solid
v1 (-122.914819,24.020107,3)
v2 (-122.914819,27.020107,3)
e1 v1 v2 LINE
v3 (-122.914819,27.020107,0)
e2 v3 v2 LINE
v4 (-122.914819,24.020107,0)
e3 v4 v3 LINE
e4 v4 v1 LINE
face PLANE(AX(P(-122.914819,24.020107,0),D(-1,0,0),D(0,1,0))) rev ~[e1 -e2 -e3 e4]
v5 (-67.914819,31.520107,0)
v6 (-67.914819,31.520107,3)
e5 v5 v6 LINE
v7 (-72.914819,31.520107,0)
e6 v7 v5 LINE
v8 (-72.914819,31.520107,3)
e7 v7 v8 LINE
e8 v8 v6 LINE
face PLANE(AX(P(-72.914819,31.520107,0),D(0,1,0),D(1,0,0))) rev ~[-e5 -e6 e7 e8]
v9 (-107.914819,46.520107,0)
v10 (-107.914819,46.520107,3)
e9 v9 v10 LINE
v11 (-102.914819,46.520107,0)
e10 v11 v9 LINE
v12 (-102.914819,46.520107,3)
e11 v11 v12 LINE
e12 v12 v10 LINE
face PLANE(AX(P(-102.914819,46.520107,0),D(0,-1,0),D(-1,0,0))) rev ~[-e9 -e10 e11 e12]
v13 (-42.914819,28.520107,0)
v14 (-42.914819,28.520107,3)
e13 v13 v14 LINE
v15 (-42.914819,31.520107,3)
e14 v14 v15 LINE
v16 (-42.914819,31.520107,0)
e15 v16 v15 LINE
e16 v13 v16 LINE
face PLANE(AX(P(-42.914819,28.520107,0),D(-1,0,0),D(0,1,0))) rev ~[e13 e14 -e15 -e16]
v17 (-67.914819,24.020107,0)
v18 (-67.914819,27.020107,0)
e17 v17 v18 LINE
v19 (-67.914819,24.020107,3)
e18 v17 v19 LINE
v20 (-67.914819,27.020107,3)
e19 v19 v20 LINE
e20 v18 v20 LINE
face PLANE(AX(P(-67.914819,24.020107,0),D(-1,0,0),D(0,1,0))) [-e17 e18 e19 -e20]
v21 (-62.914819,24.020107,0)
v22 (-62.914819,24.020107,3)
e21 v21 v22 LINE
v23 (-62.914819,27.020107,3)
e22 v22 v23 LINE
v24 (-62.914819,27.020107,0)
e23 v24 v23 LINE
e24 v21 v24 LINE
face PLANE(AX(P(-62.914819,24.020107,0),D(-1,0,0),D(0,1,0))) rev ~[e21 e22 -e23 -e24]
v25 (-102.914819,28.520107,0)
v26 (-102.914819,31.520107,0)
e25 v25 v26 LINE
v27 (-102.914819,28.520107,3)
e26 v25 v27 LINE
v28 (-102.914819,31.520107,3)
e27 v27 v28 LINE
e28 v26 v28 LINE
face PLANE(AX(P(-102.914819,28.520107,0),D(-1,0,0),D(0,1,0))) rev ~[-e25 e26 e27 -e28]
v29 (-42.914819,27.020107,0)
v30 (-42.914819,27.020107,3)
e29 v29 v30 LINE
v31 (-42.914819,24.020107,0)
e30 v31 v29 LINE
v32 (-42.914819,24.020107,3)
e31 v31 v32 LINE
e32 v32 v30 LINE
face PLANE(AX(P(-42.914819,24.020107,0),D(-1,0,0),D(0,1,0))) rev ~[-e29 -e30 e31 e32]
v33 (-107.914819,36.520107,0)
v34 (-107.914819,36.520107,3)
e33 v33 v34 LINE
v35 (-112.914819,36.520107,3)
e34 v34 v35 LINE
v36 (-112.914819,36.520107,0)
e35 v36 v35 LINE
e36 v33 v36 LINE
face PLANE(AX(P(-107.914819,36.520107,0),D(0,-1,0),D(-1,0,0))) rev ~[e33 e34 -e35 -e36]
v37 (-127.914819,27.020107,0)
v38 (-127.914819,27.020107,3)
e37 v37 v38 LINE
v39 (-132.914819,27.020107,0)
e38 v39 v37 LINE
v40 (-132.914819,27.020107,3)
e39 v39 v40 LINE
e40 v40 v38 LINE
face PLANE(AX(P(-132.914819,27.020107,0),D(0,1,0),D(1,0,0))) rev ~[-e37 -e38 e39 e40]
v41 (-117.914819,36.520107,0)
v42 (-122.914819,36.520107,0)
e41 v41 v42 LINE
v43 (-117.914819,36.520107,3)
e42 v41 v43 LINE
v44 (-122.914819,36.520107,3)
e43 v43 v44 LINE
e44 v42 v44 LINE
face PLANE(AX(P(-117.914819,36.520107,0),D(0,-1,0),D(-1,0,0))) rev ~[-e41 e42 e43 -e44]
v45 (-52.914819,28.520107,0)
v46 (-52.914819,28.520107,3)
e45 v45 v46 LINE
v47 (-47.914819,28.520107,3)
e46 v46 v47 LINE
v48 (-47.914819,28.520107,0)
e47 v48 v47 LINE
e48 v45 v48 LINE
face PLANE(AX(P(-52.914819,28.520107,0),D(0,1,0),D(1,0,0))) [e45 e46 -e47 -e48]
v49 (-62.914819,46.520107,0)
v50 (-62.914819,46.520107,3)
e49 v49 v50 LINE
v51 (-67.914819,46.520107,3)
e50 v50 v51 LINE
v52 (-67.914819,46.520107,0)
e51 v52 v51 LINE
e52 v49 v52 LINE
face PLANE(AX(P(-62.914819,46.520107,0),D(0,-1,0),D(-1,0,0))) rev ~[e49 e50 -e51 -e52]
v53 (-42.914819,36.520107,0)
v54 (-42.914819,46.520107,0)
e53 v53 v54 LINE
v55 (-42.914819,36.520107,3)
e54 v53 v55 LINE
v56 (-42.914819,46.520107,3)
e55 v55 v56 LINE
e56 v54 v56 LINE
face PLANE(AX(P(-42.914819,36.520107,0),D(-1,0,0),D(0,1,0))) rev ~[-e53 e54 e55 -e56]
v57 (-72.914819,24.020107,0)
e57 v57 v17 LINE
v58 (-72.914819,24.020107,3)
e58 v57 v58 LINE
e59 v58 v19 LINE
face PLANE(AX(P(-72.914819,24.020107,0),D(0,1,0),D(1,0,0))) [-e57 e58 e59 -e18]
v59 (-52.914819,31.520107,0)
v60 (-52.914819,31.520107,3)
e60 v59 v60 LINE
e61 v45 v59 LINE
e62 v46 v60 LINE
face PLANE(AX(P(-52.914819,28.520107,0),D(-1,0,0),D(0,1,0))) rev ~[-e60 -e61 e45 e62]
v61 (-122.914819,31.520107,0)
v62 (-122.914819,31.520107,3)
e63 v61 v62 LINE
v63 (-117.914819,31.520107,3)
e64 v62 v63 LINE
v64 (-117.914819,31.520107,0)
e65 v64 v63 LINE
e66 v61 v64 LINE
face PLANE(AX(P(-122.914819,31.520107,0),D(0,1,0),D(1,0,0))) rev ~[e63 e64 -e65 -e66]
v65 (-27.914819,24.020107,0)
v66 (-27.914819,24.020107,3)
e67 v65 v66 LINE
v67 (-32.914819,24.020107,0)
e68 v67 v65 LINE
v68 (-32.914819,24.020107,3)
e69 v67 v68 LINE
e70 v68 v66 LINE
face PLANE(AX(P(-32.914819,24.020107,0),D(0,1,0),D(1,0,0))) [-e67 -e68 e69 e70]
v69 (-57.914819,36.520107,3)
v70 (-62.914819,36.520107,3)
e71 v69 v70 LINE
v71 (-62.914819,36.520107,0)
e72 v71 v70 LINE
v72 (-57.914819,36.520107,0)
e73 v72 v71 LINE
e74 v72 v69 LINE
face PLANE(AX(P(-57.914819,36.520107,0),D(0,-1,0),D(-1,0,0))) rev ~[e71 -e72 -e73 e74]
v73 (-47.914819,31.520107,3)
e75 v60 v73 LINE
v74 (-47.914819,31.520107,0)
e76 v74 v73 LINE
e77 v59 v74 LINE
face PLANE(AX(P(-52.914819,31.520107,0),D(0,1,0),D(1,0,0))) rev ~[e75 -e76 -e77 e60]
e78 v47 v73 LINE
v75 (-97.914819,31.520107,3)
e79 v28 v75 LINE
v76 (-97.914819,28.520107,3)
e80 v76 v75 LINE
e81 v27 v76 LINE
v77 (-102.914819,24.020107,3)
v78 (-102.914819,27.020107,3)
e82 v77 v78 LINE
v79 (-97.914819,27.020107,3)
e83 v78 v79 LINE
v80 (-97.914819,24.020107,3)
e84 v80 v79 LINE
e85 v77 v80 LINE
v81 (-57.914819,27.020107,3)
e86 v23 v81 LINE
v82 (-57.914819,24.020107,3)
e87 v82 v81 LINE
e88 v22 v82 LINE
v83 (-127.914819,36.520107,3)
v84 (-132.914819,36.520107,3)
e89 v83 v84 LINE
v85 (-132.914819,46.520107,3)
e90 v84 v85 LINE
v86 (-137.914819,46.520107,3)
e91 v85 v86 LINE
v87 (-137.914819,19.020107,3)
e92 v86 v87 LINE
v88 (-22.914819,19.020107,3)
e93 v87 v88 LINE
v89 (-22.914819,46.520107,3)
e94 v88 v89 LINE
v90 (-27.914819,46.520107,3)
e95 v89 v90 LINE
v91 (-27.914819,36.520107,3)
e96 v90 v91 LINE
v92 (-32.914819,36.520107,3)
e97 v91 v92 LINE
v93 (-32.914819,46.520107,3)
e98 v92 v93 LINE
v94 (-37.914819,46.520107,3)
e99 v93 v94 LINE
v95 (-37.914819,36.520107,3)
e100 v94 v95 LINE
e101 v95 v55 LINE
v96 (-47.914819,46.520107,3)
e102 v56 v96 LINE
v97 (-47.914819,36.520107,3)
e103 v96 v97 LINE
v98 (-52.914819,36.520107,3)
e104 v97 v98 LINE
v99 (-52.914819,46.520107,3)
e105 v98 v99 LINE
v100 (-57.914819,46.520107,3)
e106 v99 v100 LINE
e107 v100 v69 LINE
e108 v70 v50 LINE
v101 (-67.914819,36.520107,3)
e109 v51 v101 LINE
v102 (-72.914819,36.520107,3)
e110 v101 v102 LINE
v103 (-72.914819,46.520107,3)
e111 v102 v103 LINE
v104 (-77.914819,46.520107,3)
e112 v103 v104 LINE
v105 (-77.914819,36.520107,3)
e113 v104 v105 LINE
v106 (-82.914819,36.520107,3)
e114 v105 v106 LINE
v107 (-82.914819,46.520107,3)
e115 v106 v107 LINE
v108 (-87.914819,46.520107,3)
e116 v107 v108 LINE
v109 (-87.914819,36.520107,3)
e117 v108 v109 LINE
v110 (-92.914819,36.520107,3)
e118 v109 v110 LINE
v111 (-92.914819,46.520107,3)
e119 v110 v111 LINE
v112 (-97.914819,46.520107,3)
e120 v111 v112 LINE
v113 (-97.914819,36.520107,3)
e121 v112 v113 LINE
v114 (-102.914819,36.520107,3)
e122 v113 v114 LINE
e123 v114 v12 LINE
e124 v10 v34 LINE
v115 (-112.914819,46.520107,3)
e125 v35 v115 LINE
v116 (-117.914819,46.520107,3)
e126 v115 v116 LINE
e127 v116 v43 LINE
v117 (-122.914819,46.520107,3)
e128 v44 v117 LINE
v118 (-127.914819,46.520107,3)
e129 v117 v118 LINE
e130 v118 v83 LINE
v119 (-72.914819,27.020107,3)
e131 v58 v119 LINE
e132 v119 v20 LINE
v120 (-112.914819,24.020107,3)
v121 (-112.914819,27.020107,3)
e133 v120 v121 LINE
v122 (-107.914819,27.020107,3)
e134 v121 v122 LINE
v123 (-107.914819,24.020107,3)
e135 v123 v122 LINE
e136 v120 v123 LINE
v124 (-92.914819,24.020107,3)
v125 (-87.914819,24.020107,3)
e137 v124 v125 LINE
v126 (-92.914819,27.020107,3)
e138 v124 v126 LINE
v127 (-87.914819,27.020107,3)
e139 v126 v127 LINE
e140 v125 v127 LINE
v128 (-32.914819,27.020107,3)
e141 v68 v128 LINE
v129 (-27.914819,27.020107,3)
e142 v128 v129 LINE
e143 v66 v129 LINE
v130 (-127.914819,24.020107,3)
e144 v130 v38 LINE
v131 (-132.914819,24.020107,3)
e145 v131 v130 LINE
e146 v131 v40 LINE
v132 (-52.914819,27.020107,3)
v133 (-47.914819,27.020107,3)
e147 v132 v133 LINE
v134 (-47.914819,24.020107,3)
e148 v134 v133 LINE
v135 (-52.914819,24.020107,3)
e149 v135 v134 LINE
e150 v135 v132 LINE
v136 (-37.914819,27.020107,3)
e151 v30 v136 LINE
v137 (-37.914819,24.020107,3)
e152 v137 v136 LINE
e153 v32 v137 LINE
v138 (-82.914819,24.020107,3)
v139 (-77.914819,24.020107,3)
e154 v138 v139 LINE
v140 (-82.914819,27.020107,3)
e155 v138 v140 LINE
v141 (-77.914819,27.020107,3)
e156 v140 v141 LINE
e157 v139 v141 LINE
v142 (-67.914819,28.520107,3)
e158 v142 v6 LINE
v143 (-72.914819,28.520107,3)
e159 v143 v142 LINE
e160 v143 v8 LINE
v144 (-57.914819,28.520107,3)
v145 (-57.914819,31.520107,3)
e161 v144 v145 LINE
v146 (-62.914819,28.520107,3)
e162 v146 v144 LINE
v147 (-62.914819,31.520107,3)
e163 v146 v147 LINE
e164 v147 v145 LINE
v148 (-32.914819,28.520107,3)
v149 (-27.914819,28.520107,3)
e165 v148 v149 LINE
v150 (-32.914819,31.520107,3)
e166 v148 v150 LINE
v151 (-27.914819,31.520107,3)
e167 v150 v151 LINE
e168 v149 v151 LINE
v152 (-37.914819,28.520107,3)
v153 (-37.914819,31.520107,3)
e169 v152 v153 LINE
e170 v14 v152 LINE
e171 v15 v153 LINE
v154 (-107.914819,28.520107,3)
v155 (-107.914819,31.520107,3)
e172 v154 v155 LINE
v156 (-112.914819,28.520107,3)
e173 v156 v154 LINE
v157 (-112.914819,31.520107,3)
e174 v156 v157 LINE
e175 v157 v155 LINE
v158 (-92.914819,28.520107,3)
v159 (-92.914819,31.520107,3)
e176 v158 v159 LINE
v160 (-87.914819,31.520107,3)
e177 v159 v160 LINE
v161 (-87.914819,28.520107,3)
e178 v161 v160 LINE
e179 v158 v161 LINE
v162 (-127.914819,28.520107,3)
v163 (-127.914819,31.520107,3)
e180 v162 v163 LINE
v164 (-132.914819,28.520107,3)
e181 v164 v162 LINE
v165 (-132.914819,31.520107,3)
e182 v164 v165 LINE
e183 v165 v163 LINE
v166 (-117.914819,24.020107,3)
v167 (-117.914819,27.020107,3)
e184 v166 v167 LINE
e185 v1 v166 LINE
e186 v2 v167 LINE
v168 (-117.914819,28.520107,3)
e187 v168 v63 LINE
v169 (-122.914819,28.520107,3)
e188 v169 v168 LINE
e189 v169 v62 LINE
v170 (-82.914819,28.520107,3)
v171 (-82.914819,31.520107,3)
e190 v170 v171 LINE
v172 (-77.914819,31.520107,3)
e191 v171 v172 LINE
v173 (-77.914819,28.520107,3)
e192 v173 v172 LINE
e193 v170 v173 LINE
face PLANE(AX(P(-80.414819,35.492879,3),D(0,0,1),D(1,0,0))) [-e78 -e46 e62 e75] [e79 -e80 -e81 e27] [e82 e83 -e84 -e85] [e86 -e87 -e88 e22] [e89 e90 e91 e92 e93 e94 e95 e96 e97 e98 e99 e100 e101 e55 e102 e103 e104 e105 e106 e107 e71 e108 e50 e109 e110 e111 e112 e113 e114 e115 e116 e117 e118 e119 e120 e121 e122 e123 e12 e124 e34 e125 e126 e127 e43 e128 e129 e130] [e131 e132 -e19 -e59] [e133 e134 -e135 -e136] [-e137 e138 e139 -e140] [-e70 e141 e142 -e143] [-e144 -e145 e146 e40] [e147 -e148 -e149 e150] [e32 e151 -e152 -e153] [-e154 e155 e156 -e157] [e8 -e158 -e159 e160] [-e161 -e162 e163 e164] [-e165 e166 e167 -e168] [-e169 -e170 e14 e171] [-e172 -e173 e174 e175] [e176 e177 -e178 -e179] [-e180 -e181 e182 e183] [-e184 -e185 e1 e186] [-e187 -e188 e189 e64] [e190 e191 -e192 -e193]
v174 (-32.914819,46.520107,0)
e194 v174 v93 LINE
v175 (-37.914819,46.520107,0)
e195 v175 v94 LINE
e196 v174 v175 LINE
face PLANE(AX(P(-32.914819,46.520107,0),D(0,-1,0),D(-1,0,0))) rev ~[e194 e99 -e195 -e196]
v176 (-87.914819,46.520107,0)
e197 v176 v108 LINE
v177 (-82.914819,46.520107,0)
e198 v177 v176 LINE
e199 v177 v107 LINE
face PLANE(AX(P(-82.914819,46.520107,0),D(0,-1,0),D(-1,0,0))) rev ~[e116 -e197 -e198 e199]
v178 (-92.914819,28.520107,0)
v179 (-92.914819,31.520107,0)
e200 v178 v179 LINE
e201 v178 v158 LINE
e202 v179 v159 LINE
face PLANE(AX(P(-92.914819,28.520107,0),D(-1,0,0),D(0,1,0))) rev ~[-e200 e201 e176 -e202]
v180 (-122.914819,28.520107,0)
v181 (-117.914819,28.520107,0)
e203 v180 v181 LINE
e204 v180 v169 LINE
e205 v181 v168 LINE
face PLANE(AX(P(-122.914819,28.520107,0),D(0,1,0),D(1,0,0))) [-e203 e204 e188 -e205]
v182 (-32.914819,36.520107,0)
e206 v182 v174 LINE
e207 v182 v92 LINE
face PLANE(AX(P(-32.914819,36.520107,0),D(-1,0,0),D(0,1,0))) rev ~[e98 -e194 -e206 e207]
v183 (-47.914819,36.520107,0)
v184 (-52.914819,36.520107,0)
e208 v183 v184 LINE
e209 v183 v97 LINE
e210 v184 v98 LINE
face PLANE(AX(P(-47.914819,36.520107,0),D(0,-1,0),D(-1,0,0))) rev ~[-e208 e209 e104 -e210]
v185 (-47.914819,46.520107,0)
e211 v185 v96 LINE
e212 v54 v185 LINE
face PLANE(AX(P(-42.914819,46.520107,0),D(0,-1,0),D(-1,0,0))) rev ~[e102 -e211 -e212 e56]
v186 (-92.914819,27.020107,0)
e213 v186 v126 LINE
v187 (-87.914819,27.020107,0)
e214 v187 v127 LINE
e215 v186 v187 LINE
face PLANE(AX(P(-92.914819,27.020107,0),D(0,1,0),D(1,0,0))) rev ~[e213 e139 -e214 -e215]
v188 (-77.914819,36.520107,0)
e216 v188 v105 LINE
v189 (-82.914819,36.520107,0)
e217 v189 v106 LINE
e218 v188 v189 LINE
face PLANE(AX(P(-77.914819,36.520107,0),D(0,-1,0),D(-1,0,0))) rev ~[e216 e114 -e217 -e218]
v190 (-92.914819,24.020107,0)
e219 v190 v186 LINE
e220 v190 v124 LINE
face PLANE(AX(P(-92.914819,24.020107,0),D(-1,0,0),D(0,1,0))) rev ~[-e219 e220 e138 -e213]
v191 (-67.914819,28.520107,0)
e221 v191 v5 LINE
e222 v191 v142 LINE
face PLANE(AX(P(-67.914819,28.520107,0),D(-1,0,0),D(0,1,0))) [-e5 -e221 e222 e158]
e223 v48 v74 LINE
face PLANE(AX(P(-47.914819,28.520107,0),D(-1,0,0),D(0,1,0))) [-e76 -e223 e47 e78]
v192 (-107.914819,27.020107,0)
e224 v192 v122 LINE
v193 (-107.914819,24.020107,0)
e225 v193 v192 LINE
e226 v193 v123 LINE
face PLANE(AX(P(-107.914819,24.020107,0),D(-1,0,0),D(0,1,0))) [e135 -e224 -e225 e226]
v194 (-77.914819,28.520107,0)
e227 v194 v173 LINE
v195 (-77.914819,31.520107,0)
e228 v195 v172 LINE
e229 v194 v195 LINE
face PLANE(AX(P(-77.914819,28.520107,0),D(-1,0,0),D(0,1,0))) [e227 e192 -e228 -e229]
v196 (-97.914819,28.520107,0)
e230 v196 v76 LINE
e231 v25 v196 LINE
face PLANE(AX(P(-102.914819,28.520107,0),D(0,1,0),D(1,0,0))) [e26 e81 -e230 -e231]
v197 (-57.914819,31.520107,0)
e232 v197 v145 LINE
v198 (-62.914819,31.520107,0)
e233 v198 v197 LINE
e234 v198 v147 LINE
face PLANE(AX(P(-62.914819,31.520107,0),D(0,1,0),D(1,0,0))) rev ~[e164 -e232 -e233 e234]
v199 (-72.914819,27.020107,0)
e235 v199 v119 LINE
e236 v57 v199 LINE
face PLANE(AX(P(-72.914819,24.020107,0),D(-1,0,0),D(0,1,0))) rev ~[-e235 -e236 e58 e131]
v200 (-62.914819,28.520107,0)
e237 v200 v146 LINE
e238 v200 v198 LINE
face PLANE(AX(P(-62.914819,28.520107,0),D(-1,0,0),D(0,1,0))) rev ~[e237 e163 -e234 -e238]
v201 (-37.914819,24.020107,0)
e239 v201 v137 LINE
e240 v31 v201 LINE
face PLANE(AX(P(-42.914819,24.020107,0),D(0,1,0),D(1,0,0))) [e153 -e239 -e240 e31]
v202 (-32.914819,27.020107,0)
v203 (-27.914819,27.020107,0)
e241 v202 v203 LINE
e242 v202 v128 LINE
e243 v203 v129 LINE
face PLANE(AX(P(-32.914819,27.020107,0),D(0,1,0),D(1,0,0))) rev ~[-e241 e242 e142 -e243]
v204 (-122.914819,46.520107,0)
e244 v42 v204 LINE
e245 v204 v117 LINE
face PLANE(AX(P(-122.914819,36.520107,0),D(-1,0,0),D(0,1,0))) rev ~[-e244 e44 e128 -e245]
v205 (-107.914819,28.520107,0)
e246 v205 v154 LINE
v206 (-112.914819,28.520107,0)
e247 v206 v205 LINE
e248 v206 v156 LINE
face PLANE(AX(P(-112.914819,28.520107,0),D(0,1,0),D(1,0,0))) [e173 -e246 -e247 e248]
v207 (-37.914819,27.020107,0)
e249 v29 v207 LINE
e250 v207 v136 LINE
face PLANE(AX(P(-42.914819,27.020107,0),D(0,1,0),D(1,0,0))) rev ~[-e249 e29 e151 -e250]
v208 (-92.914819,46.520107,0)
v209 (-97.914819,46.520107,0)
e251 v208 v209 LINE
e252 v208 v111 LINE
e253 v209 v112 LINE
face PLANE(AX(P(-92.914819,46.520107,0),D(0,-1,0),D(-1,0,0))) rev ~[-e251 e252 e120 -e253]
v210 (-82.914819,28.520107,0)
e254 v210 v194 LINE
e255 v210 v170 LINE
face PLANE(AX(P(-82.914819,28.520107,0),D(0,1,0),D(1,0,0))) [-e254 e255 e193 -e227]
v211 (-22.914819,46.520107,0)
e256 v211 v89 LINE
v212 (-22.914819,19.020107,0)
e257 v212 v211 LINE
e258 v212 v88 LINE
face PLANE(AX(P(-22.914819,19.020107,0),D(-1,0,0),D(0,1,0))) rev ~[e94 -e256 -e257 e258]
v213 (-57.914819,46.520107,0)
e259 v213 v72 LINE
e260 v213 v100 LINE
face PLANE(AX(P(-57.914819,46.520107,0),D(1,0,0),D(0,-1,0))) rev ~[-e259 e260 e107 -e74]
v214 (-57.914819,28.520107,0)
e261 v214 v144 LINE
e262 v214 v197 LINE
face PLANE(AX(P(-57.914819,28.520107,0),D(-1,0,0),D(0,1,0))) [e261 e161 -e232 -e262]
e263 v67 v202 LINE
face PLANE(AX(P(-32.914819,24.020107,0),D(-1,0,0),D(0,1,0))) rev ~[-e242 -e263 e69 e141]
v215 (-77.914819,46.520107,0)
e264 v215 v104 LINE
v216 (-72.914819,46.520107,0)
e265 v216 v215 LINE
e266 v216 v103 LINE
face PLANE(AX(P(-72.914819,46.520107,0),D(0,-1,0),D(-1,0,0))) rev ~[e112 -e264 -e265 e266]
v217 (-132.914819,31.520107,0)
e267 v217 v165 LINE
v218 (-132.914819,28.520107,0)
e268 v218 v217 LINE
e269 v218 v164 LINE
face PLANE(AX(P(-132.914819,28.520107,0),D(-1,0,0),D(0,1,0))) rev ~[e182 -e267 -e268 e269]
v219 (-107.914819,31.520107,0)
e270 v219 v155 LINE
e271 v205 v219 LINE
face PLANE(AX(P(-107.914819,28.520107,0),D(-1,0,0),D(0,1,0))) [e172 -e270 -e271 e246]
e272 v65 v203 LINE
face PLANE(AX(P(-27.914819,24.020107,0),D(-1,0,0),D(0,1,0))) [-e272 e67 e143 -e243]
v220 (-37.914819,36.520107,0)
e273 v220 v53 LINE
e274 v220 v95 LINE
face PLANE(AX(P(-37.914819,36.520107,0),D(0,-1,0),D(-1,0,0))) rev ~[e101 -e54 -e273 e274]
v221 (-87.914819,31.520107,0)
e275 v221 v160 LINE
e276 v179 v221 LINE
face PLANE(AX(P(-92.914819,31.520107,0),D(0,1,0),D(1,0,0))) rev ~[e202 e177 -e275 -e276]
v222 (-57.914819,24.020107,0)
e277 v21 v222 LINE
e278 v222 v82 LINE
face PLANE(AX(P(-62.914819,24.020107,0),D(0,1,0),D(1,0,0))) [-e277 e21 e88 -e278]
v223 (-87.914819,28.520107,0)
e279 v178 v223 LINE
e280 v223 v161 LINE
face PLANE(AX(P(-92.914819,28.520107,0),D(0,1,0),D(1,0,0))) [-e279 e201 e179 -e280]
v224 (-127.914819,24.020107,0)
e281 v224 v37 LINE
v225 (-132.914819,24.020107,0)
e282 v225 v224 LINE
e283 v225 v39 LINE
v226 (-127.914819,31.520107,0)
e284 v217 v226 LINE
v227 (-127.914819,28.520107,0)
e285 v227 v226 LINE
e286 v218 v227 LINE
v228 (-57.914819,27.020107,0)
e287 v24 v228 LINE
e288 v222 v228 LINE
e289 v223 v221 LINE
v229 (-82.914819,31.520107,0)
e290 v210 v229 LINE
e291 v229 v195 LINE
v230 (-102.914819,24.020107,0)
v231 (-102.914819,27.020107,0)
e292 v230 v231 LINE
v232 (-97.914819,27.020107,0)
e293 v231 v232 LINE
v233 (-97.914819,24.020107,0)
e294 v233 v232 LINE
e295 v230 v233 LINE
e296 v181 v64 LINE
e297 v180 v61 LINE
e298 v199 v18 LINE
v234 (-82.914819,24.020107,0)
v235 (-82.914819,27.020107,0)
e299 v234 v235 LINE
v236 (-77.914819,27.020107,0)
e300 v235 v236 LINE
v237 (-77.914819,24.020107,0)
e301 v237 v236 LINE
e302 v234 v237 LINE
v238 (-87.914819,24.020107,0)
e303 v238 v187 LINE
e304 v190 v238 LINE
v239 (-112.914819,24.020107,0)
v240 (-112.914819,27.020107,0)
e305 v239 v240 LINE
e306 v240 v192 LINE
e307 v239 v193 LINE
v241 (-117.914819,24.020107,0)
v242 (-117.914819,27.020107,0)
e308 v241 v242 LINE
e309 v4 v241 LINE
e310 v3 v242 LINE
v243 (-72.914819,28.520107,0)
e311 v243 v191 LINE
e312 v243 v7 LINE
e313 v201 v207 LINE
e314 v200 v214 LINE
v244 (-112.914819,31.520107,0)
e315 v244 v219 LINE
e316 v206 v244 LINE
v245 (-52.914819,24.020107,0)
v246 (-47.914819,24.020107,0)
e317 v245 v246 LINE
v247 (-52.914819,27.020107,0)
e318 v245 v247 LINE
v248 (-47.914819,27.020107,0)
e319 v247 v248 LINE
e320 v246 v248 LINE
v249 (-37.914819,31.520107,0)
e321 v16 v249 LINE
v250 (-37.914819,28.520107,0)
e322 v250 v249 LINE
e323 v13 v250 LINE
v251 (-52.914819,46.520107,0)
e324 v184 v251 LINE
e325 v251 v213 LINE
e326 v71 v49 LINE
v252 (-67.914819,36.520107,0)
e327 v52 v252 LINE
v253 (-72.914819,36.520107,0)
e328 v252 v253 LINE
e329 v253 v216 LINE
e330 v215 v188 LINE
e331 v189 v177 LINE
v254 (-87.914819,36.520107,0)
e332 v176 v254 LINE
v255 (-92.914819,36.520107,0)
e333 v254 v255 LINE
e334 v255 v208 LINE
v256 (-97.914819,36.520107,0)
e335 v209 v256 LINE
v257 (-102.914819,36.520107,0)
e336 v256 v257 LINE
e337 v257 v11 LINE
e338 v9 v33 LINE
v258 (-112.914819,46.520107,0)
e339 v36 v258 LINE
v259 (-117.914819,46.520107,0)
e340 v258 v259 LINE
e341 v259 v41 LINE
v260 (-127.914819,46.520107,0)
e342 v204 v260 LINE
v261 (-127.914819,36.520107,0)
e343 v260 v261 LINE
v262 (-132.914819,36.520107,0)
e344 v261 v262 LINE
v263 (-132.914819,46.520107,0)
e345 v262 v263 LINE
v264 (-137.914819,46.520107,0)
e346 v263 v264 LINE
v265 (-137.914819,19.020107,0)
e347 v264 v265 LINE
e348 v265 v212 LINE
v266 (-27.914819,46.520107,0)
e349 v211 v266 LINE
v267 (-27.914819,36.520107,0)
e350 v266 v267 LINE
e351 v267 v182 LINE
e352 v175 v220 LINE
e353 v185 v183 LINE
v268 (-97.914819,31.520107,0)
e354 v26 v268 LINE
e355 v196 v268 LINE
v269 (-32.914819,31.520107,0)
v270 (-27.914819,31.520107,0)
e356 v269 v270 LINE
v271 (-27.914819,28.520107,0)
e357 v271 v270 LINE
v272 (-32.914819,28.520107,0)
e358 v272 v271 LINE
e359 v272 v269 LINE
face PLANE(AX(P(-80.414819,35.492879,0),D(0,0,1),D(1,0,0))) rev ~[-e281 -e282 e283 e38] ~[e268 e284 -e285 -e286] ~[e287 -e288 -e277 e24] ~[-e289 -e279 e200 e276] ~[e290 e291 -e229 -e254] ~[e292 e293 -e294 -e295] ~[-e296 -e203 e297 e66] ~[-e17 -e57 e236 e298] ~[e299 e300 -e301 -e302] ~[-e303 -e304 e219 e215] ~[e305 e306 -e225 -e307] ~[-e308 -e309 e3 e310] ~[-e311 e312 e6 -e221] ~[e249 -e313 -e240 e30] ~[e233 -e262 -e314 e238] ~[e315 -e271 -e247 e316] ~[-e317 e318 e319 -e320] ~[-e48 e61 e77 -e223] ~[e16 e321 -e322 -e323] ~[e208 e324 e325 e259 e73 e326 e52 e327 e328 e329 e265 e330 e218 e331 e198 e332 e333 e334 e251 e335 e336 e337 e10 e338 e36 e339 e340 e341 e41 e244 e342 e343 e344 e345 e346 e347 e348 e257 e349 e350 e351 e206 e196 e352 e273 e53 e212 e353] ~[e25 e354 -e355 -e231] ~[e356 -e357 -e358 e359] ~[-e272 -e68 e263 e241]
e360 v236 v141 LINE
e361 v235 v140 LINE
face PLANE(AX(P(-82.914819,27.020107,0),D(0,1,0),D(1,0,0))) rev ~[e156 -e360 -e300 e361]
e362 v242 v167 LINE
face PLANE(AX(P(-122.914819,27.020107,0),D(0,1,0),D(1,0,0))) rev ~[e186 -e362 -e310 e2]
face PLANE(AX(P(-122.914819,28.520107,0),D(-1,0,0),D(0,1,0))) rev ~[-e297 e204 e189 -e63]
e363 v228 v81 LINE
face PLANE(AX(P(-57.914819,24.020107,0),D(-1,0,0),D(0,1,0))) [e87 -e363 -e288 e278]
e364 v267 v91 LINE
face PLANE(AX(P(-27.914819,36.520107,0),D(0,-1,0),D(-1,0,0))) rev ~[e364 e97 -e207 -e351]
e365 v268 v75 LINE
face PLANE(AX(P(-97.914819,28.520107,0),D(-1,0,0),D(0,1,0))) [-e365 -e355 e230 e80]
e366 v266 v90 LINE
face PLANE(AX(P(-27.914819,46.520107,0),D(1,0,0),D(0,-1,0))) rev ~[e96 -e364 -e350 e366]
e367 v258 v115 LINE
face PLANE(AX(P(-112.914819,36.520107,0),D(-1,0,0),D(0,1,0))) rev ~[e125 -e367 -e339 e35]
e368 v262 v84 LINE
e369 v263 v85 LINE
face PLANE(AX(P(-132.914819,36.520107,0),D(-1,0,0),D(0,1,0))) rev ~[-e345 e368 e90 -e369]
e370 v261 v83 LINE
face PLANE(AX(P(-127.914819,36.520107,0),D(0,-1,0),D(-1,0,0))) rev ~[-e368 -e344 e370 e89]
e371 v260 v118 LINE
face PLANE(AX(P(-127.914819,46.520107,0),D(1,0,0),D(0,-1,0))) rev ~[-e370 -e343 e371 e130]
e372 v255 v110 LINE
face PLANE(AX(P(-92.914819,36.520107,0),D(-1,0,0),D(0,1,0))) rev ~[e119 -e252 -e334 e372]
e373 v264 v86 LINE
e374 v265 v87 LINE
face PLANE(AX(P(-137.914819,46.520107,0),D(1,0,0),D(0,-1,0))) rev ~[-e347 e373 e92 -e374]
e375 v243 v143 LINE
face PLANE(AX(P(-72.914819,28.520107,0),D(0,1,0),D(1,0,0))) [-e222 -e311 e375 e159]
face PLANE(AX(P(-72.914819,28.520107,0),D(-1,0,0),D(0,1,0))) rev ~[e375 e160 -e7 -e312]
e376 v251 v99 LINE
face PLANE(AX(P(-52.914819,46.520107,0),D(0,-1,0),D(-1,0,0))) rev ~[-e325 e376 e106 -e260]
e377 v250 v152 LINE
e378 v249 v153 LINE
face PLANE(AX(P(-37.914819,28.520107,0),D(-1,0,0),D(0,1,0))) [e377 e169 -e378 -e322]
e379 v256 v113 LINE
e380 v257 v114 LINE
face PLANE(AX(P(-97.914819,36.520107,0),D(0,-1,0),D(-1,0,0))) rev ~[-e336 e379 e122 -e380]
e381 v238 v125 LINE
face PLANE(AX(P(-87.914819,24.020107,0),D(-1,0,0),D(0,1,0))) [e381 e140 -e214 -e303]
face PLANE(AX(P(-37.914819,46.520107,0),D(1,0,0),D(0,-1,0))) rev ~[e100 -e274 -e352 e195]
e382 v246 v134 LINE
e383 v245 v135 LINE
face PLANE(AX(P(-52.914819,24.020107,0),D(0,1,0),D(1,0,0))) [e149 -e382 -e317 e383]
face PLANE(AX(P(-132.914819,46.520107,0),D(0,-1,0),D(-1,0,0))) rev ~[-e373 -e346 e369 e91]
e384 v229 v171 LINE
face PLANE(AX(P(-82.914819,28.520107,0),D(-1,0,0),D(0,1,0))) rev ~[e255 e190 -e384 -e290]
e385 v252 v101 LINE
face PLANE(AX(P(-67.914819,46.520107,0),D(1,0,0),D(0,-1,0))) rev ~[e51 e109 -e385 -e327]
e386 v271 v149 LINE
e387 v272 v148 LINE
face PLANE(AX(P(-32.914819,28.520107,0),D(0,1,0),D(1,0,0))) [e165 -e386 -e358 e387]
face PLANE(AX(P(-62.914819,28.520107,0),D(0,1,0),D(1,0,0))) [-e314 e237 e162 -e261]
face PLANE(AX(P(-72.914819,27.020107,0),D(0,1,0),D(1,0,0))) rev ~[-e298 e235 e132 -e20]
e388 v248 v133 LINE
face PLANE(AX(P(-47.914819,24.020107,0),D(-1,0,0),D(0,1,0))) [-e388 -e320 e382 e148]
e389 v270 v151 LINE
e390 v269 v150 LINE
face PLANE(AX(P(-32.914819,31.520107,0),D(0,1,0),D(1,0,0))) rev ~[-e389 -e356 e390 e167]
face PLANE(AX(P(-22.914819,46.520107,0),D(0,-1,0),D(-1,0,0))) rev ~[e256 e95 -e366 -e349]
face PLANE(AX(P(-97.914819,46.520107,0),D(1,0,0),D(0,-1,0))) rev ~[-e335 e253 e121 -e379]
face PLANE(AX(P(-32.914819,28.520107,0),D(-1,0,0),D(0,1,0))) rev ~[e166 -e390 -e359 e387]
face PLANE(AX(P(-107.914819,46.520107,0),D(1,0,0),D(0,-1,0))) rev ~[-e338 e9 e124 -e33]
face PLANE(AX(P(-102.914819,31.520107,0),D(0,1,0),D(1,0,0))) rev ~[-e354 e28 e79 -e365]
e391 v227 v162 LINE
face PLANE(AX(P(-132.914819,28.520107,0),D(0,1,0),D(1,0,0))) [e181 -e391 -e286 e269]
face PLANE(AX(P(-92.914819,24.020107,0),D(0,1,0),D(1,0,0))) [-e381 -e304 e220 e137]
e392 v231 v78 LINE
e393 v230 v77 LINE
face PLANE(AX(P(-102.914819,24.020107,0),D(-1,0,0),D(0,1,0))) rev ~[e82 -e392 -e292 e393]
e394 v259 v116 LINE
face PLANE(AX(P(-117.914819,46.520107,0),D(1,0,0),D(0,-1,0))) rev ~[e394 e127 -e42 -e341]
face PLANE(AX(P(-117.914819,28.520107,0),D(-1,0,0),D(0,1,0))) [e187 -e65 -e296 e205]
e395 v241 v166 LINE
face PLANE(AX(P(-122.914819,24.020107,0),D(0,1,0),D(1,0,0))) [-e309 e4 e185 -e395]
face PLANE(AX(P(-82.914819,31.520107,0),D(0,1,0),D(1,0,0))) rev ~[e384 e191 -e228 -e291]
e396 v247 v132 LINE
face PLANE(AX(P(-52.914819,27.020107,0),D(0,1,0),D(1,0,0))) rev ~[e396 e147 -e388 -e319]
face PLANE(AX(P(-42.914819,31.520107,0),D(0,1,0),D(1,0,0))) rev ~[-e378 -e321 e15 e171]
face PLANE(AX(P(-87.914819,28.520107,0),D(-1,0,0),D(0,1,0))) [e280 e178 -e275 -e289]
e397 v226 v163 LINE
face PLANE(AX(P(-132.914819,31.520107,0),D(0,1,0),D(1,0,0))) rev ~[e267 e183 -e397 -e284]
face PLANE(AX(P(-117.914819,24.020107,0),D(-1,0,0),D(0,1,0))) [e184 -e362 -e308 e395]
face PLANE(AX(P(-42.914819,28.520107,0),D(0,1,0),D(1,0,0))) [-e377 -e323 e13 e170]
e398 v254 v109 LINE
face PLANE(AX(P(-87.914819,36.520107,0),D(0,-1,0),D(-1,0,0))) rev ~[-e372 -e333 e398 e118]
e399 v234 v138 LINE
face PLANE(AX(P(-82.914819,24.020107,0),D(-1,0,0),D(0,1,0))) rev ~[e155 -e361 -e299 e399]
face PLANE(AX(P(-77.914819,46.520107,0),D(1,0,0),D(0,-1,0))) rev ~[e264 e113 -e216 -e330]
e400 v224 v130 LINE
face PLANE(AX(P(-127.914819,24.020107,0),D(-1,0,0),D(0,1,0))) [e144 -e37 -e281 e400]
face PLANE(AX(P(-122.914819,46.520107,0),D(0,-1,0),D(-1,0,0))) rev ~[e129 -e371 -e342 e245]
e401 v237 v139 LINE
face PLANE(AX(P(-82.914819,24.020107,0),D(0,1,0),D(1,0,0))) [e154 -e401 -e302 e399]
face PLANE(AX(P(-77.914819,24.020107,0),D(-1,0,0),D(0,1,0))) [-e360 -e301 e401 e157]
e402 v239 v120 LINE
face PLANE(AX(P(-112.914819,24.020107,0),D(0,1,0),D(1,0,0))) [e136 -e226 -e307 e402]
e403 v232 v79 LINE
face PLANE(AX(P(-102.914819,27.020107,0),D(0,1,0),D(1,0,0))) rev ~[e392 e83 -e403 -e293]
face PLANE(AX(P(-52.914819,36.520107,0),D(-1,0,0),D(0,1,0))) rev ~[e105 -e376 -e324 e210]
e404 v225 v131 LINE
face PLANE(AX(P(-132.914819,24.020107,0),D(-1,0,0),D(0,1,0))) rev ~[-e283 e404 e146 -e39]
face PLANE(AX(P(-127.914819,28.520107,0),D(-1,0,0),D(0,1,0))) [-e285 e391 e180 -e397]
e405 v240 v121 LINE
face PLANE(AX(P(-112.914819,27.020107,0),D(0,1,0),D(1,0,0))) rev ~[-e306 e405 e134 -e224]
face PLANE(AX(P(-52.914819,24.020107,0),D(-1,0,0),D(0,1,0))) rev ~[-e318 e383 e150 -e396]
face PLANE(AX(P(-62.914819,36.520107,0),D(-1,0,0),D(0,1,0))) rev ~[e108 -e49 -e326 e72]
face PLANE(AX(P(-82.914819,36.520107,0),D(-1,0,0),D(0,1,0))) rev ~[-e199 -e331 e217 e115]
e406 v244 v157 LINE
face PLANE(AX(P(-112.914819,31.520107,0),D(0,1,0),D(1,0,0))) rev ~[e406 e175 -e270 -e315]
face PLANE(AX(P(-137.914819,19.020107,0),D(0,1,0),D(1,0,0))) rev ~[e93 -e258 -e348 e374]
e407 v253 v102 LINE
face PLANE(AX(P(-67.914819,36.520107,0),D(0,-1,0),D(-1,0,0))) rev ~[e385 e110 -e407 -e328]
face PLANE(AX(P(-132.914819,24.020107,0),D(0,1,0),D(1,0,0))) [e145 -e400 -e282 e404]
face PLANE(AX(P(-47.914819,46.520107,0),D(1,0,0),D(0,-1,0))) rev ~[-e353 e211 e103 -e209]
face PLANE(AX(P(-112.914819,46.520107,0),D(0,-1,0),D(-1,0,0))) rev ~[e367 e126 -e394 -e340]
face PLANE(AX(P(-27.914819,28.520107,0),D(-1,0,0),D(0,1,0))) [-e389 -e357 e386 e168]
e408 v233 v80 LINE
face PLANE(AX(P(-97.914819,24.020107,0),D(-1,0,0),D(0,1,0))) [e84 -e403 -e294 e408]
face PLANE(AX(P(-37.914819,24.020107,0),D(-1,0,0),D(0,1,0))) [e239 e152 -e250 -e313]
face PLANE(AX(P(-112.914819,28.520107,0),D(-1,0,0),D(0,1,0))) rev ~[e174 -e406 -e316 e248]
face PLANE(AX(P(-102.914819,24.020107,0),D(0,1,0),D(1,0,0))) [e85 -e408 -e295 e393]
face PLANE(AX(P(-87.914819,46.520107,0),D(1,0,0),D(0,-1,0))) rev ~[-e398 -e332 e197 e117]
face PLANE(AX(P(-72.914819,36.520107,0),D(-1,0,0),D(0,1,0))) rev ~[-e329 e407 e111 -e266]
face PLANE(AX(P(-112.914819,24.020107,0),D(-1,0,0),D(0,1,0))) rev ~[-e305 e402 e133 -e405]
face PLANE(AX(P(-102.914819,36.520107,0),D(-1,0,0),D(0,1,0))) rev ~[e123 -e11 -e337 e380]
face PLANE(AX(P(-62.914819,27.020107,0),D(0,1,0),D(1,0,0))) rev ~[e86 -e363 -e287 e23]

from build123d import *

# Parameters (mm, degrees)
ESQUISSE1_W        = 5
ESQUISSE1_H        = 3
BOSS_EXTRU_1_DEPTH = 3


with BuildPart() as part:
    # Esquisse1 → Boss.-Extru.1 (new body)
    with BuildSketch(Plane.XY):
        Polygon((-127.914818772, 46.520106884), (-127.914818772, 36.520106884), (-132.914818772, 36.520106884), (-132.914818772, 46.520106884), (-137.914818772, 46.520106884), (-137.914818772, 19.020106884), (-22.914818772, 19.020106884), (-22.914818772, 46.520106884), (-27.914818772, 46.520106884), (-27.914818772, 36.520106884), (-32.914818772, 36.520106884), (-32.914818772, 46.520106884), (-37.914818772, 46.520106884), (-37.914818772, 36.520106884), (-42.914818772, 36.520106884), (-42.914818772, 46.520106884), (-47.914818772, 46.520106884), (-47.914818772, 36.520106884), (-52.914818772, 36.520106884), (-52.914818772, 46.520106884), (-57.914818772, 46.520106884), (-57.914818772, 36.520106884), (-62.914818772, 36.520106884), (-62.914818772, 46.520106884), (-67.914818772, 46.520106884), (-67.914818772, 36.520106884), (-72.914818772, 36.520106884), (-72.914818772, 46.520106884), (-77.914818772, 46.520106884), (-77.914818772, 36.520106884), (-82.914818772, 36.520106884), (-82.914818772, 46.520106884), (-87.914818772, 46.520106884), (-87.914818772, 36.520106884), (-92.914818772, 36.520106884), (-92.914818772, 46.520106884), (-97.914818772, 46.520106884), (-97.914818772, 36.520106884), (-102.914818772, 36.520106884), (-102.914818772, 46.520106884), (-107.914818772, 46.520106884), (-107.914818772, 36.520106884), (-112.914818772, 36.520106884), (-112.914818772, 46.520106884), (-117.914818772, 46.520106884), (-117.914818772, 36.520106884), (-122.914818772, 36.520106884), (-122.914818772, 46.520106884), align=None)
        with Locations((-30.414818772, 30.020106884)):
            Rectangle(ESQUISSE1_W, ESQUISSE1_H, mode=Mode.SUBTRACT)
        with Locations((-40.414818772, 30.020106884)):
            Rectangle(ESQUISSE1_W, ESQUISSE1_H, mode=Mode.SUBTRACT)
        with Locations((-50.414818772, 30.020106884)):
            Rectangle(ESQUISSE1_W, ESQUISSE1_H, mode=Mode.SUBTRACT)
        with Locations((-60.414818772, 30.020106884)):
            Rectangle(ESQUISSE1_W, ESQUISSE1_H, mode=Mode.SUBTRACT)
        with Locations((-70.414818772, 30.020106884)):
            Rectangle(ESQUISSE1_W, ESQUISSE1_H, mode=Mode.SUBTRACT)
        with Locations((-80.414818772, 30.020106884)):
            Rectangle(ESQUISSE1_W, ESQUISSE1_H, mode=Mode.SUBTRACT)
        with Locations((-90.414818772, 30.020106884)):
            Rectangle(ESQUISSE1_W, ESQUISSE1_H, mode=Mode.SUBTRACT)
        with Locations((-100.414818772, 30.020106884)):
            Rectangle(ESQUISSE1_W, ESQUISSE1_H, mode=Mode.SUBTRACT)
        with Locations((-30.414818772, 25.520106884)):
            Rectangle(ESQUISSE1_W, ESQUISSE1_H, mode=Mode.SUBTRACT)
        with Locations((-40.414818772, 25.520106884)):
            Rectangle(ESQUISSE1_W, ESQUISSE1_H, mode=Mode.SUBTRACT)
        with Locations((-50.414818772, 25.520106884)):
            Rectangle(ESQUISSE1_W, ESQUISSE1_H, mode=Mode.SUBTRACT)
        with Locations((-60.414818772, 25.520106884)):
            Rectangle(ESQUISSE1_W, ESQUISSE1_H, mode=Mode.SUBTRACT)
        with Locations((-70.414818772, 25.520106884)):
            Rectangle(ESQUISSE1_W, ESQUISSE1_H, mode=Mode.SUBTRACT)
        with Locations((-80.414818772, 25.520106884)):
            Rectangle(ESQUISSE1_W, ESQUISSE1_H, mode=Mode.SUBTRACT)
        with Locations((-90.414818772, 25.520106884)):
            Rectangle(ESQUISSE1_W, ESQUISSE1_H, mode=Mode.SUBTRACT)
        with Locations((-100.414818772, 25.520106884)):
            Rectangle(ESQUISSE1_W, ESQUISSE1_H, mode=Mode.SUBTRACT)
        with Locations((-110.414818772, 25.520106884)):
            Rectangle(ESQUISSE1_W, ESQUISSE1_H, mode=Mode.SUBTRACT)
        with Locations((-120.414818772, 25.520106884)):
            Rectangle(ESQUISSE1_W, ESQUISSE1_H, mode=Mode.SUBTRACT)
        with Locations((-110.414818772, 30.020106884)):
            Rectangle(ESQUISSE1_W, ESQUISSE1_H, mode=Mode.SUBTRACT)
        with Locations((-130.414818772, 25.520106884)):
            Rectangle(ESQUISSE1_W, ESQUISSE1_H, mode=Mode.SUBTRACT)
        with Locations((-120.414818772, 30.020106884)):
            Rectangle(ESQUISSE1_W, ESQUISSE1_H, mode=Mode.SUBTRACT)
        with Locations((-130.414818772, 30.020106884)):
            Rectangle(ESQUISSE1_W, ESQUISSE1_H, mode=Mode.SUBTRACT)
    extrude(amount=BOSS_EXTRU_1_DEPTH)


solid = part.part
